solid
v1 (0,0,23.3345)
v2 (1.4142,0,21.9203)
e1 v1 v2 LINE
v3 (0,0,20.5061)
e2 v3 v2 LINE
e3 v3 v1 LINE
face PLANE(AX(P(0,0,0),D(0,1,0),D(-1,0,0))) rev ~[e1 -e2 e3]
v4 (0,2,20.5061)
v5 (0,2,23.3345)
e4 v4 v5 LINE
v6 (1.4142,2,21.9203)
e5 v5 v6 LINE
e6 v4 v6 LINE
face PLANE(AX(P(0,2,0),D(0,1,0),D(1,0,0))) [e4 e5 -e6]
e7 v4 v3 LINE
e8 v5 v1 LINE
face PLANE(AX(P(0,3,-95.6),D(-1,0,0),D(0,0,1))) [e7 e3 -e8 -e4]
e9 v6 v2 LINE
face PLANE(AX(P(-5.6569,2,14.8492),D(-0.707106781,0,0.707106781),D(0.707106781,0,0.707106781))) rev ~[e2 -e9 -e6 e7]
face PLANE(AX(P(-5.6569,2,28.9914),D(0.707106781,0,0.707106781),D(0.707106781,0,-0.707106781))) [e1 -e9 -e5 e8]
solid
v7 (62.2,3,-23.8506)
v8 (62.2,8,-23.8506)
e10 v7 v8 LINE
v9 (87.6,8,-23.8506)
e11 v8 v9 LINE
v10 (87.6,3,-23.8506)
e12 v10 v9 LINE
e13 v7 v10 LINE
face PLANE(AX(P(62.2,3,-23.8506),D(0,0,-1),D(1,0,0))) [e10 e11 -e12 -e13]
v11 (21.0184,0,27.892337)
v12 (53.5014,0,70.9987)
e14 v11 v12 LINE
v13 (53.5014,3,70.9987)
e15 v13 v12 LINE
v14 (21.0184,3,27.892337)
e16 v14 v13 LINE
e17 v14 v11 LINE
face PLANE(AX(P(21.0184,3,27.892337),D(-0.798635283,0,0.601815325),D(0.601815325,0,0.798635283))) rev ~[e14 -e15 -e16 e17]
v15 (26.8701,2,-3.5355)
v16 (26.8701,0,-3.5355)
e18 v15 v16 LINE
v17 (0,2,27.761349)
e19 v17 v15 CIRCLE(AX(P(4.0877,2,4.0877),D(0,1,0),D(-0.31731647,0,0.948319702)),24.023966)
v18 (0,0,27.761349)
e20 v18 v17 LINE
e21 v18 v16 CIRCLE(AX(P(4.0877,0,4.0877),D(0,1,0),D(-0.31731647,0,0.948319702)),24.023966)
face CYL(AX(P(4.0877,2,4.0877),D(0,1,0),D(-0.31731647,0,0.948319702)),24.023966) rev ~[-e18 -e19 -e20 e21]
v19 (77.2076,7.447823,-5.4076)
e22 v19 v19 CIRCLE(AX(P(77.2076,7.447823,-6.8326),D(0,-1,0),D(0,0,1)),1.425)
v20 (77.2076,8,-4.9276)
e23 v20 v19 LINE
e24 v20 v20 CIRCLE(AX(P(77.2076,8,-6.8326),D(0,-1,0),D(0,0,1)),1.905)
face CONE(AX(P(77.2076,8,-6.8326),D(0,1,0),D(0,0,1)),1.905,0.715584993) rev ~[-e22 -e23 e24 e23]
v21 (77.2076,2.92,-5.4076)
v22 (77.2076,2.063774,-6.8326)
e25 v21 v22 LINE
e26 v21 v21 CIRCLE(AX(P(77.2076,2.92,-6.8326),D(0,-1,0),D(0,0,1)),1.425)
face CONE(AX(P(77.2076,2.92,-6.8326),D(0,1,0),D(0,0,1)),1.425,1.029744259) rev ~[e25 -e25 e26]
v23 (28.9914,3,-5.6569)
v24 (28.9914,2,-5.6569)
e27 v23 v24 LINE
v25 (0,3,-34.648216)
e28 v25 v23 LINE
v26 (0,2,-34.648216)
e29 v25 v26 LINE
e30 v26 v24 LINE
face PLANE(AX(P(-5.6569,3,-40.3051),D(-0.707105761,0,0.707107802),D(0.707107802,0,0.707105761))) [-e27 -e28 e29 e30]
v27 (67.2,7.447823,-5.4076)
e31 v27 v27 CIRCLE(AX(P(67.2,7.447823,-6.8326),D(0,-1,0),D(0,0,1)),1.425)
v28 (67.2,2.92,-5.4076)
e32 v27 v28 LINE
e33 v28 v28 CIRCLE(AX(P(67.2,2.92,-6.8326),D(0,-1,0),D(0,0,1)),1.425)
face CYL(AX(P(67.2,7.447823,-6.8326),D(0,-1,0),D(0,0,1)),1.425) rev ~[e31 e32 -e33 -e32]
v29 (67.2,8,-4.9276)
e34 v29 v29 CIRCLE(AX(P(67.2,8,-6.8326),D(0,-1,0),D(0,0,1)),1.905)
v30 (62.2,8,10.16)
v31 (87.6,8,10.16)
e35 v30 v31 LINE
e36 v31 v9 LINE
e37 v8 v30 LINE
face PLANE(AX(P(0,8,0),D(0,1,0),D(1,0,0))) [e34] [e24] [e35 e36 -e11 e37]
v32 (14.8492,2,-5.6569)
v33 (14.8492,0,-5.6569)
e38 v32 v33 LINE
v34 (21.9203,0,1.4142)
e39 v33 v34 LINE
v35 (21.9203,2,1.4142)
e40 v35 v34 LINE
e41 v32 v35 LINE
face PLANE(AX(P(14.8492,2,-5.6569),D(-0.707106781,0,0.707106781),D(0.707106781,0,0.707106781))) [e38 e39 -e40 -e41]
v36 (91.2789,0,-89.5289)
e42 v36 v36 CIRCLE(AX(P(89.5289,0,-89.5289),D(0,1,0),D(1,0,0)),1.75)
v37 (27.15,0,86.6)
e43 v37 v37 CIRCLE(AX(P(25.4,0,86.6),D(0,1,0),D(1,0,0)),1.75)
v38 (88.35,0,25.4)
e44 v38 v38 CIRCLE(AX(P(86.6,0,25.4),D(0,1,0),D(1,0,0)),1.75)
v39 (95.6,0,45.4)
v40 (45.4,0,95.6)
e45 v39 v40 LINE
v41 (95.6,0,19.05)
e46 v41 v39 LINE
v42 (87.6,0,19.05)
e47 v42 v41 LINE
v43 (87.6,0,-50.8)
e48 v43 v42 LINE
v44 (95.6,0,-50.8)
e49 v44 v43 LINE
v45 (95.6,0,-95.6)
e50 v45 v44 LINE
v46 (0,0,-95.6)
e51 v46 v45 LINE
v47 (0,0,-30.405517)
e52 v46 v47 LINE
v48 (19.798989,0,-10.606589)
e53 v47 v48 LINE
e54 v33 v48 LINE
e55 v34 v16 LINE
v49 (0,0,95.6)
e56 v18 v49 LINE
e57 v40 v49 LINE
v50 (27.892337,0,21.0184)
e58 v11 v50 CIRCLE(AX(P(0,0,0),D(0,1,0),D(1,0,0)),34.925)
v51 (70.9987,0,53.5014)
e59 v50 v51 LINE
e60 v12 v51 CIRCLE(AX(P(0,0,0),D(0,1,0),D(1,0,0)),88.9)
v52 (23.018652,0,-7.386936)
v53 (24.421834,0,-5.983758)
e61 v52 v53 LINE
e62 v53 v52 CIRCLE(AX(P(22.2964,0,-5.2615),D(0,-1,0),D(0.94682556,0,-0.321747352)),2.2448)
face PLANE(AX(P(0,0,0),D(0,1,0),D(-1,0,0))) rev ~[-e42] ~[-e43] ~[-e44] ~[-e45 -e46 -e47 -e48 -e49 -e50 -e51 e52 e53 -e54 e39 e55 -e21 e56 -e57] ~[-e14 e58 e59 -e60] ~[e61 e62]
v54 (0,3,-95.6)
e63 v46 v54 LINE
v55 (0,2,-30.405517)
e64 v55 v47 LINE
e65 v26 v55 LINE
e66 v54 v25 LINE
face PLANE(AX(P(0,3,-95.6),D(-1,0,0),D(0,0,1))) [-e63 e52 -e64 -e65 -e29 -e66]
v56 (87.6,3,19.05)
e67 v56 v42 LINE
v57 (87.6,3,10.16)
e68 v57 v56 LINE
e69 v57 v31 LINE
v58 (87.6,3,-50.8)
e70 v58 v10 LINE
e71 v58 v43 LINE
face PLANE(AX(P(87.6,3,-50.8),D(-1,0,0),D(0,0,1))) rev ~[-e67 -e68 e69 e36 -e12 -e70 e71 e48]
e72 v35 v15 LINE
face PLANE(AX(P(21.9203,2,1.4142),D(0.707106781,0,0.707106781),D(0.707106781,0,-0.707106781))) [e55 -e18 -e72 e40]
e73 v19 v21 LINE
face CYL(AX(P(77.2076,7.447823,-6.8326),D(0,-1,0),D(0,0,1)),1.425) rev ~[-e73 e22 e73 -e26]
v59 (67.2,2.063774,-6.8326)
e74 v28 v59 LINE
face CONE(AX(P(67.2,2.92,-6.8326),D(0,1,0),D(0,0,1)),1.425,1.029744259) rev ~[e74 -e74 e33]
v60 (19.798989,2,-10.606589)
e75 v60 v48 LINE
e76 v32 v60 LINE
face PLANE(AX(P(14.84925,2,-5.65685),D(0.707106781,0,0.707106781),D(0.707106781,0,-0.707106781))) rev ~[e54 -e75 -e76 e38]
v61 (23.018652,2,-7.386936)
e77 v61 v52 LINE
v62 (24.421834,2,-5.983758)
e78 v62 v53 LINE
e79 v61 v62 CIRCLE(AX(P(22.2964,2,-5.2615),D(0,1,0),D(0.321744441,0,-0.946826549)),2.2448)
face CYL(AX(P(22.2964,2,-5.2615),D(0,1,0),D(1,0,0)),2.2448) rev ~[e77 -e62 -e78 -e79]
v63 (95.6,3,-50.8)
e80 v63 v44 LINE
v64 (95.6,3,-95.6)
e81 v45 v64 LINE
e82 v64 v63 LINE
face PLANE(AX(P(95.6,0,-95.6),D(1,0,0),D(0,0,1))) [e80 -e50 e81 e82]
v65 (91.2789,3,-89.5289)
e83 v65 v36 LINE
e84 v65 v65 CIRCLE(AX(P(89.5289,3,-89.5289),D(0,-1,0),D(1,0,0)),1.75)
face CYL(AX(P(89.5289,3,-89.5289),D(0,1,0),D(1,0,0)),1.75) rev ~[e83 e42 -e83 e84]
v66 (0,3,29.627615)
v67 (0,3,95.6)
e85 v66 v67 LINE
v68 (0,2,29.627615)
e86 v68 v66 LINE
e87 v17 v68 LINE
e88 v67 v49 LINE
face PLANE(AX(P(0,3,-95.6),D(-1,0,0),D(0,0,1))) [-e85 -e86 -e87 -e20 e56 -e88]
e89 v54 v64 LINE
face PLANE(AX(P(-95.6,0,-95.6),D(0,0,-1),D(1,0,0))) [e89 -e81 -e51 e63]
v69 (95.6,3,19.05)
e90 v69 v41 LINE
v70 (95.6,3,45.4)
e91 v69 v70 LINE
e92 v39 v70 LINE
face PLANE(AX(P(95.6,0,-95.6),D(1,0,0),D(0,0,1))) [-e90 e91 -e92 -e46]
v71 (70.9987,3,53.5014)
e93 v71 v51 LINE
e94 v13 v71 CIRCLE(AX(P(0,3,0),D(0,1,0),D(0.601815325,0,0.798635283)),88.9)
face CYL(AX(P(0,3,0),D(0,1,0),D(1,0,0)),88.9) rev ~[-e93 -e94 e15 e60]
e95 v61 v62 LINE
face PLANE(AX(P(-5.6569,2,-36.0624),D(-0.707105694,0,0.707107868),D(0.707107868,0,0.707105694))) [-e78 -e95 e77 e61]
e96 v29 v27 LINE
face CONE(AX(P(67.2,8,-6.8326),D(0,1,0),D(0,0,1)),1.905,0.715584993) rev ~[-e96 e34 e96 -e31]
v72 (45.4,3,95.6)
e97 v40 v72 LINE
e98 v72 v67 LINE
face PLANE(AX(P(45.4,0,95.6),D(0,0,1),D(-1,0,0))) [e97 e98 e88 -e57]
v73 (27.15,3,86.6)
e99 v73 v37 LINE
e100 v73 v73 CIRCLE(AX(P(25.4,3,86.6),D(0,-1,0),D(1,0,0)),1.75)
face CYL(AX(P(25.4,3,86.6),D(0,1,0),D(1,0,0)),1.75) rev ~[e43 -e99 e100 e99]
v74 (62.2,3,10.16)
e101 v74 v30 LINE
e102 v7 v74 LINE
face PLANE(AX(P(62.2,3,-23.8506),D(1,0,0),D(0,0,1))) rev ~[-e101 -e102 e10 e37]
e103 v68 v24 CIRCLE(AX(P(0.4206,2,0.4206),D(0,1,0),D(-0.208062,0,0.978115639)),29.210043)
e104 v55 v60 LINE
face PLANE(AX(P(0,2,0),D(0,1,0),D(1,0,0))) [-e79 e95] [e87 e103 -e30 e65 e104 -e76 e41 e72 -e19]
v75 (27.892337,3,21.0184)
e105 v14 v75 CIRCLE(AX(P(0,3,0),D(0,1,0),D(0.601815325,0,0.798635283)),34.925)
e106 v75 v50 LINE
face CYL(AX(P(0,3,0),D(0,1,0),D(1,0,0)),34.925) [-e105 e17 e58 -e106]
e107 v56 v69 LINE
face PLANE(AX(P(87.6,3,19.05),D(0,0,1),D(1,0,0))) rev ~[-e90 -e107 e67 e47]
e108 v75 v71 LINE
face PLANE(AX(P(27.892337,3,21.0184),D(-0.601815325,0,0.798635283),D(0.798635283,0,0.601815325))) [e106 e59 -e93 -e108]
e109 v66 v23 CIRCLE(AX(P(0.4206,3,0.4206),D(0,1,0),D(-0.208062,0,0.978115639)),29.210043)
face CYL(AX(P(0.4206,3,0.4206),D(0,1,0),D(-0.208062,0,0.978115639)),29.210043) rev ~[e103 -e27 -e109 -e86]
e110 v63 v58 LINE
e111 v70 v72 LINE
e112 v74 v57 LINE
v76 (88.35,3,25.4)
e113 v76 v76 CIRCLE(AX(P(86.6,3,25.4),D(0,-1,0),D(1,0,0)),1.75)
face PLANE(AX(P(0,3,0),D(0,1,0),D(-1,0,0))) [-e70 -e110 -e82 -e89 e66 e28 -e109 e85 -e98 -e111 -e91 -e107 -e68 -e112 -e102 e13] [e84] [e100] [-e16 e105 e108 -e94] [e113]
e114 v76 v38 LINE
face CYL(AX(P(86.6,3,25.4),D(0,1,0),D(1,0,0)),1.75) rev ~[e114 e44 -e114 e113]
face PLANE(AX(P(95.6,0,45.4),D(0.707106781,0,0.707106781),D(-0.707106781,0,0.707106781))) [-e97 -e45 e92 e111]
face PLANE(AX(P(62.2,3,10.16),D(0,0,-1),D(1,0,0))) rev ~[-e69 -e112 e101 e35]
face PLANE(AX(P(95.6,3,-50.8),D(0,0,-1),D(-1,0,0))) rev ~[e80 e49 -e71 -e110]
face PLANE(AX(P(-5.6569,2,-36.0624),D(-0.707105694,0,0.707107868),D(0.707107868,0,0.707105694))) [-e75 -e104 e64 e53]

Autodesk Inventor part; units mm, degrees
ref_plane "YZ Plane" through (0, 0, 0) normal (1, 0, 0) x (0, 1, 0)
ref_plane "XZ Plane" through (0, 0, 0) normal (0, 1, 0) x (-1, 0, 0)
sketch "Sketch1" plane through (0, 0, 0) normal (0, 1, 0) x (-1, 0, 0)
  line L0 (101.6, -101.6) -> (-101.6, -101.6)
  line L1 (-101.6, -101.6) -> (-101.6, 101.6)
  line L2 (-101.6, 101.6) -> (101.6, 101.6)
  line L3 (101.6, 101.6) -> (101.6, -101.6)
  line L4 (96.6, -96.6) -> (-96.6, -96.6)
  line L5 (-96.6, -96.6) -> (-96.6, 96.6)
  line L6 (-96.6, 96.6) -> (96.6, 96.6)
  line L7 (96.6, 96.6) -> (96.6, -96.6)
  line L8 (101.6, 101.6) -> (-40.4, 101.6)
  circle A0 centre (0, 0) radius 88.9
  line L9 (-40.4, 101.6) -> (-101.6, 40.4)
  line L10 (-45.4, 101.6) -> (-101.6, 45.4)
  line L11 (96.6, 96.6) -> (96.6, 101.6)
  line L12 (-45.4, 101.6) -> (-35.4, 101.6)
  line L13 (-35.4, 101.6) -> (-35.4, 96.6)
  line L14 (-35.4, 96.6) -> (-45.4, 96.6)
  line L15 (-45.4, 96.6) -> (-45.4, 101.6)
  line L16 (-101.6, 39.4) -> (-39.4, 101.6)
  line L17 (95.6, -95.6) -> (-95.6, -95.6)
  line L18 (-95.6, -95.6) -> (-95.6, 95.6)
  line L19 (-95.6, 95.6) -> (95.6, 95.6)
  line L20 (95.6, 95.6) -> (95.6, -95.6)
  point P0 (96.6, 51.2168)
  point P1 (101.6, 40.4)
  point P2 (101.6, -40.4)
  point P3 (96.6, -51.2168)
  point P4 (-96.6, 45.4)
  point P5 (-45.4, 96.6)
  point P6 (-45.4, 95.6)
  point P7 (-95.6, 45.4)
  dimension "d0" = 203.2
  dimension "d1" = 203.2
  dimension "d2" = 101.6
  dimension "d3" = 101.6
  dimension "d4" = 5
  dimension "d5" = 5
  dimension "d6" = 5
  dimension "d7" = 5
  dimension "d8" = 142
  dimension "d9" = 61.2
  dimension "d10" = 177.8
  dimension "d11" = 5
  dimension "d12" = 5
  dimension "d13" = 10
  dimension "d14" = 1
  dimension "d15" = 1
  dimension "d16" = 1
  dimension "d17" = 1
  dimension "d18" = 1
extrude "Extrusion1" add sketch "Sketch1" along normal blind 3 contours L16 L19 L20 L17 L18 | A0
sketch "Sketch2" plane through (0, 3, 0) normal (0, 1, 0) x (1, 0, 0)
  circle A0 centre (0, 0) radius 34.925
  circle A1 centre (0, 0) radius 88.9
  line L0 (0, 0) -> (53.5014, -70.9987)
  line L1 (0, 0) -> (70.9987, -53.5014)
  line L2 (45.4, -95.6) -> (95.6, -45.4) projected
  line L3 (70.5, -70.5) -> (0, 0)
  point P0 (21.0184, -27.8923)
  point P1 (27.8923, -21.0184)
  dimension "d21" = 69.85
  dimension "d22" = 177.8
  dimension "d23" = 8
  dimension "d24" = 8
extrude "Extrusion2" cut sketch "Sketch2" against normal blind 5 contours A0 L3 A1 L0 | L1 A1 L3 A0
sketch "Sketch3" plane through (0, 3, 0) normal (0, 1, 0) x (1, 0, 0)
  circle A0 centre (0, 0) radius 2.5
  line L0 (11.3314, 2.139) -> (-2.139, -11.3314)
  line L1 (0, 0) -> (-5.6569, 5.6569)
  line L2 (-5.6569, -14.8492) -> (-26.163, 5.6569)
  line L3 (-5.6569, 26.163) -> (14.8492, 5.6569)
  circle A1 centre (-5.6569, 5.6569) radius 14
  line L4 (-26.163, 5.6569) -> (-5.6569, 26.163)
  line L5 (14.8492, 5.6569) -> (-5.6569, -14.8492)
  line L6 (-40.3051, 5.6569) -> (-5.6569, 40.3051)
  line L7 (-5.6569, 40.3051) -> (28.9914, 5.6569)
  line L8 (28.9914, 5.6569) -> (-5.6569, -28.9914)
  line L9 (-5.6569, -28.9914) -> (-40.3051, 5.6569)
  line L10 (-22.6451, 9.1747) -> (-9.1747, 22.6451)
  line L11 (-9.1747, 22.6451) -> (-12.7668, 26.2372)
  line L12 (-12.7668, 26.2372) -> (-26.2372, 12.7668)
  line L13 (-26.2372, 12.7668) -> (-22.6451, 9.1747)
  line L14 (-36.0624, 5.6569) -> (-5.6569, 36.0624)
  line L15 (-5.6569, 36.0624) -> (26.8701, 3.5355)
  line L16 (26.8701, 3.5355) -> (-3.5355, -26.8701)
  line L17 (-3.5355, -26.8701) -> (-36.0624, 5.6569)
  arc A2 (-5.6569, -28.9914) -> (28.9914, 5.6569) centre (0.4206, -0.4206) ccw
  dimension "d27" = 8
  dimension "d28" = 28
  dimension "d29" = 29
  dimension "d30" = 29
  dimension "d31" = 14.5
  dimension "d32" = 10
  dimension "d33" = 10
  dimension "d34" = 10
  dimension "d35" = 10
  dimension "d36" = 5.08
  dimension "d37" = 9.525
  dimension "d38" = 9.525
  dimension "d39" = 3
  dimension "d40" = 3
  dimension "d41" = 0
  dimension "d42" = 3
  dimension "d51" = 29.21
extrude "Extrusion3" cut sketch "Sketch3" against normal blind 1 contours A0 | L0 L5 L2 L4 L3 | L4 L13 L12 L11 | A1 | L6 L7 L8 L15 L14 L17 L9 | L8 A2 | L17 L14 L15 L8
sketch "Sketch4" plane through (0, 2, 0) normal (0, 1, 0) x (1, 0, 0)
  line L0 (-36.0624, 5.6569) -> (-5.6569, 36.0624)
  line L1 (-5.6569, 36.0624) -> (26.8701, 3.5355)
  line L2 (26.8701, 3.5355) -> (-3.5355, -26.8701)
  line L3 (-3.5355, -26.8701) -> (-36.0624, 5.6569)
  line L4 (-5.6569, 40.3051) -> (28.9914, 5.6569) projected
  line L5 (-40.3051, 5.6569) -> (-5.6569, 40.3051) projected
  line L6 (-5.6569, -28.9914) -> (-40.3051, 5.6569) projected
  line L7 (28.9914, 5.6569) -> (-5.6569, -28.9914) projected
  arc A0 (-3.5355, -26.8701) -> (26.8701, 3.5355) centre (4.0877, -4.0877) ccw
  point P0 (0, 0)
  dimension "d45" = 3
  dimension "d46" = 3
  dimension "d47" = 3
  dimension "d48" = 0
extrude "Extrusion4" cut sketch "Sketch4" against normal blind 5 contours L0 L1 L2 L3 | L2 A0
sketch "Sketch6" plane through (0, 3, 0) normal (0, 1, 0) x (1, 0, 0)
  line L0 (95.6, 95.6) -> (-95.6, 95.6) projected
  line L1 (95.6, 95.6) -> (87.6, 95.6)
  line L2 (87.6, 95.6) -> (87.6, -46.4)
  line L3 (87.6, -46.4) -> (95.6, -46.4)
  line L4 (95.6, -46.4) -> (95.6, 95.6)
  line L5 (95.6, -45.4) -> (95.6, 95.6) projected
  line L6 (87.6, -19.05) -> (95.6, -19.05)
  line L7 (95.6, -19.05) -> (95.6, 50.8)
  line L8 (95.6, 50.8) -> (87.6, 50.8)
  line L9 (87.6, 50.8) -> (87.6, -19.05)
  line L10 (0, 0) -> (95.6, 0)
  point P0 (95.6, -19.05)
  dimension "d58" = 8
  dimension "d59" = 142
  dimension "d62" = 50.8
  dimension "d63" = 19.05
extrude "Extrusion6" cut sketch "Sketch6" against normal blind 25.4 contours L4 L10 L2 L8 | L4 L6 L2 L10
sketch "Sketch7" plane through (0, 3, 0) normal (0, 1, 0) x (1, 0, 0)
  line L0 (-95.6, 95.6) -> (-95.6, -95.6) projected
  line L1 (-95.6, -95.6) -> (45.4, -95.6) projected
  line L2 (95.6, 50.8) -> (87.6, 50.8) projected
  line L3 (87.6, 50.8) -> (62.2, 50.8)
  line L4 (87.6, -19.05) -> (87.6, 50.8)
  line L5 (87.6, -19.05) -> (87.6, 50.8) projected
  line L6 (87.6, 50.8) -> (95.6, 50.8) projected
  line L7 (87.6, 50.8) -> (62.2, 50.8)
  line L8 (62.2, 50.8) -> (62.2, -10.16)
  line L9 (62.2, -10.16) -> (87.6, -10.16)
  line L10 (87.6, -10.16) -> (87.6, 50.8)
  line L11 (62.2, 23.8506) -> (87.6, 23.8506)
  point P0 (0, 0)
  dimension "d72" = 60.96
  dimension "d90" = 34.0106
extrude "Extrusion7" add sketch "Sketch7" along normal blind 5 contours L4 L9 L8 L11
sketch "Sketch8" plane through (0, 8, 0) normal (0, 1, 0) x (1, 0, 0)
  line L0 (62.2, -10.16) -> (87.6, -10.16) projected
  line L1 (62.2, -10.16) -> (87.6, -10.16)
  line L2 (87.6, -10.16) -> (87.6, 6.8326)
  line L3 (87.6, 50.8) -> (87.6, -19.05) projected
  line L4 (87.6, 6.8326) -> (62.2, 6.8326)
  circle A0 centre (77.2076, 6.8326) radius 1.5
  circle A1 centre (67.2, 6.8326) radius 1.5
  line L5 (62.2, 23.8506) -> (62.2, -10.16) projected
  point P0 (0, 0)
  dimension "d78" = 16.9926
  dimension "d79" = 3
  dimension "d80" = 3
  dimension "d139" = 5
  dimension "d140" = 10.0076
hole "Hole1" at (77.2076, 8, -6.8326) at (67.2, 8, -6.8326) direction (0, -1, 0) diameter 2.85 depth 5.08 tip angle 118 countersink diameter 3.81 countersink angle 82 thread size "M3.5x0.6" class "6H" standard "ANSI Metric M Profile"
sketch "Sketch9" plane through (0, 2, 0) normal (0, 1, 0) x (1, 0, 0)
  point P0 (0, 0)
sketch "Sketch10" plane through (0, 2, 0) normal (0, 1, 0) x (1, 0, 0)
  circle A0 centre (6.7129, 18.0166) radius 2
  circle A1 centre (-18.0312, -6.7275) radius 2
  circle A2 centre (-18.0312, -6.7275) radius 2
  circle A3 centre (-5.6569, 5.6469) radius 14
  circle A4 centre (0, -0.01) radius 2.5
  circle A5 centre (22.2964, 5.2615) radius 2.2448
  circle A6 centre (-5.2761, -22.3111) radius 2.3104
  circle A7 centre (-33.9469, 6.3598) radius 2.2008
  circle A8 centre (-6.3744, 33.9323) radius 2.3894
  line L0 (-5.6569, 40.3051) -> (28.9914, 5.6569) projected
  line L1 (-5.6569, 40.3051) -> (1.4142, 33.234)
  line L2 (-5.6569, 26.163) -> (1.4142, 33.234)
  line L3 (-5.6569, 26.163) -> (-12.7279, 33.234)
  line L4 (-40.3051, 5.6569) -> (-5.6569, 40.3051) projected
  line L5 (-5.6569, 40.3051) -> (-40.3051, 5.6569)
  line L6 (-5.6569, 26.163) -> (-33.234, -1.4142)
  line L7 (-5.6569, -28.9914) -> (-40.3051, 5.6569) projected
  line L8 (-33.234, 12.7279) -> (-26.163, 5.6569)
  arc A9 (-5.6569, -28.9914) -> (21.0752, -21.0752) centre (0.4206, -0.4206) ccw projected
  line L9 (-5.6569, -28.9914) -> (28.9914, 5.6569)
  line L10 (-5.6569, 36.0624) -> (26.8701, 3.5355) projected
  line L11 (-12.7279, -21.9203) -> (21.9203, 12.7279)
  line L12 (-5.6569, -14.8492) -> (1.4142, -21.9203)
  line L13 (14.8492, 5.6569) -> (21.9203, -1.4142)
  point P0 (0, 0)
  point P1 (0.0071, -0.017)
  point P2 (24.4219, 5.9837)
  point P3 (23.0187, 7.3869)
  point P4 (19.799, 10.6066)
  dimension "d91" = 34.9934
  dimension "d92" = 28
  dimension "d93" = 8
  dimension "d94" = 10
  dimension "d95" = 10
  dimension "d96" = 10
  dimension "d97" = 10
  dimension "d98" = 10
extrude "Extrusion8" add sketch "Sketch10" against normal up to surface (2 mm away) contours A5 L10 L9 L13 L11 | L2 L3 L4 L0 | L9 L7 L11 L12 | L6 L7 L4 L8
sketch "Sketch11" plane through (0, 3, 0) normal (0, 1, 0) x (1, 0, 0)
  circle A0 centre (6.7129, 18.0166) radius 2
  circle A1 centre (-18.0312, -6.7275) radius 2
  circle A2 centre (-18.0312, -6.7275) radius 2
  circle A3 centre (-5.6569, 5.6469) radius 14
  circle A4 centre (0, -0.01) radius 2.5
  circle A5 centre (22.2964, 5.2615) radius 2.2448
  circle A6 centre (-5.2761, -22.3111) radius 2.3104
  circle A7 centre (-33.9469, 6.3598) radius 2.2008
  circle A8 centre (-6.3744, 33.9323) radius 2.3894
  line L0 (-5.6569, 40.3051) -> (28.9914, 5.6569)
  line L1 (-5.6569, 40.3051) -> (1.4142, 33.234)
  line L2 (-5.6569, 26.163) -> (1.4142, 33.234)
  line L3 (-5.6569, 26.163) -> (-12.7279, 33.234)
  line L4 (-40.3051, 5.6569) -> (-5.6569, 40.3051)
  line L5 (-5.6569, 40.3051) -> (-40.3051, 5.6569)
  line L6 (-5.6569, 26.163) -> (-33.234, -1.4142)
  line L7 (-5.6569, -28.9914) -> (-40.3051, 5.6569)
  line L8 (-33.234, 12.7279) -> (-26.163, 5.6569)
  arc A9 (-5.6569, -28.9914) -> (21.0752, -21.0752) centre (0.4206, -0.4206) ccw
  line L9 (-5.6569, -28.9914) -> (28.9914, 5.6569)
  line L10 (-5.6569, 36.0624) -> (26.8701, 3.5355)
  line L11 (-12.7279, -21.9203) -> (21.9203, 12.7279)
  line L12 (-5.6569, -14.8492) -> (1.4142, -21.9203)
  line L13 (14.8492, 5.6569) -> (21.9203, -1.4142)
  point P0 (0, 0)
  point P1 (0, 0)
  point P2 (0.0071, -0.017)
  point P3 (24.4219, 5.9837)
  point P4 (23.0187, 7.3869)
  point P5 (19.799, 10.6066)
  point P6 (24.4219, 5.9837)
  point P7 (23.0187, 7.3869)
  dimension "d101" = 34.9934
  dimension "d102" = 28
  dimension "d103" = 8
  dimension "d104" = 10
  dimension "d105" = 10
  dimension "d106" = 10
  dimension "d107" = 10
  dimension "d108" = 10
extrude "Extrusion9" cut sketch "Sketch11" against normal blind 10 contours A5 L10 | A8 | A6 | A7 picked at (21.4653, 4.9881)
sketch "Sketch12" plane through (0, 3, 0) normal (0, 1, 0) x (1, 0, 0)
  line L0 (95.6, 50.8) -> (95.6, 95.6) projected
  line L1 (-95.6, -95.6) -> (45.4, -95.6) projected
  line L2 (95.6, 95.6) -> (-95.6, -95.6)
  line L3 (95.6, 95.6) -> (-95.6, 95.6) projected
  line L4 (0, 95.6) -> (0, -95.6)
  line L5 (-95.6, -95.6) -> (45.4, -95.6) projected
  point P0 (0, 0)
ref_plane "Work Plane2" through (0, 3, -95.6) normal (-1, 0, 0) x (0, 0, 1)
sketch "Sketch15" plane through (0, 3, 0) normal (0, 1, 0) x (1, 0, 0)
  line L0 (-96.6, 96.6) -> (-96.6, -96.6)
  line L1 (96.6, 96.6) -> (-96.6, 96.6)
  line L2 (-96.6, 96.6) -> (96.6, 96.6)
  line L3 (96.6, -45.4) -> (45.4, -96.6)
  line L4 (96.6, 96.6) -> (96.6, -45.4)
  line L5 (96.6, -45.4) -> (45.4, -96.6)
  line L6 (45.4, -96.6) -> (-96.6, -96.6)
  line L7 (-96.6, -96.6) -> (-96.6, 96.6)
  line L8 (-96.6, 96.6) -> (-89.5289, 89.5289)
  circle A0 centre (-89.5289, 89.5289) radius 5
  circle A1 centre (-89.5289, 89.5289) radius 1.5
  line L9 (-89.5289, 84.5289) -> (-96.6, 84.5289)
  line L10 (-89.5289, 89.5289) -> (-89.5289, 84.5289)
  line L11 (-89.5289, 89.5289) -> (-84.5289, 89.5289)
  line L12 (-84.5289, 96.6) -> (-84.5289, 89.5289)
  line L13 (-96.6, -96.6) -> (-89.5289, -89.5289)
  line L14 (-96.6, -96.6) -> (-86.6, -96.6) construction
  circle A2 centre (-89.5289, -89.5289) radius 5
  circle A3 centre (-89.5289, -89.5289) radius 1.75
  line L15 (-89.5289, -89.5289) -> (-84.5289, -89.5289)
  line L16 (-84.5289, -96.6) -> (-84.5289, -89.5289)
  line L17 (-89.5289, -89.5289) -> (-89.5289, -84.5289)
  line L18 (-96.6, -84.5289) -> (-89.5289, -84.5289)
  line L19 (96.6, 96.6) -> (89.5289, 89.5289)
  circle A4 centre (89.5289, 89.5289) radius 5
  circle A5 centre (89.5289, 89.5289) radius 1.75
  line L20 (89.5289, 89.5289) -> (84.5289, 89.5289)
  line L21 (84.5289, 96.6) -> (84.5289, 89.5289)
  line L22 (89.5289, 89.5289) -> (89.5289, 84.5289)
  line L23 (96.6, 84.5289) -> (89.5289, 84.5289)
  line L24 (96.6, -43.114) -> (96.6, 96.6)
  line L25 (-96.6, -96.6) -> (43.1178, -96.6)
  line L26 (28.9914, 5.6569) -> (-5.6569, -28.9914)
  line L27 (25.4, -25.4) -> (101.6, -25.4)
  line L28 (101.6, -88.9) -> (101.6, 101.6)
  line L29 (25.4, -25.4) -> (25.4, -101.6)
  line L30 (43.1178, -101.6) -> (-101.6, -101.6)
  line L31 (96.6, -25.4) -> (86.6, -25.4)
  circle A6 centre (86.6, -25.4) radius 5
  circle A7 centre (86.6, -25.4) radius 1.75
  line L32 (25.4, -96.6) -> (25.4, -86.6)
  circle A8 centre (25.4, -86.6) radius 5
  circle A9 centre (25.4, -86.6) radius 1.75
  point P0 (0, 0)
  point P1 (0, 0)
  dimension "d117" = 10
  dimension "d118" = 3
  dimension "d119" = 10
  dimension "d120" = 45
  dimension "d121" = 10
  dimension "d122" = 3.5
  dimension "d123" = 10
  dimension "d124" = 10
  dimension "d125" = 3.5
  dimension "d126" = 76.2
  dimension "d127" = 76.2
  dimension "d128" = 10
  dimension "d129" = 10
  dimension "d130" = 3.5
  dimension "d131" = 10
  dimension "d132" = 10
  dimension "d133" = 3.5
extrude "Extrusion12" cut sketch "Sketch15" against normal blind 25.4 contours A1 L11 L8 | L8 L10 A1 | L10 L11 A1 | L17 L13 A3 | A3 L15 L17 | L20 L22 A5 | A5 L19 L20 | L13 L15 A3 | A5 L22 L19 | A9 L29 | L29 A9 | A7 L27 | L27 A7
sketch "Sketch17" plane through (0, 3, -95.6) normal (-1, 0, 0) x (0, 0, 1)
  line L0 (225.7063, 44.2174) -> (-31.7491, 44.2174)
  line L1 (-31.7491, 44.2174) -> (-31.7491, -27.1257)
  line L2 (-31.7491, -27.1257) -> (225.7063, -27.1257)
  line L3 (225.7063, -27.1257) -> (225.7063, 44.2174)
  point P0 (95.6, -3)
extrude "Extrusion14" cut sketch "Sketch17" along normal through all
equation "\"d1\" = d0"
equation "\"d2\" = 0.5 * d0"
equation "\"d3\" = 0.5 * d0"
properties part number "Drop_Plate"
